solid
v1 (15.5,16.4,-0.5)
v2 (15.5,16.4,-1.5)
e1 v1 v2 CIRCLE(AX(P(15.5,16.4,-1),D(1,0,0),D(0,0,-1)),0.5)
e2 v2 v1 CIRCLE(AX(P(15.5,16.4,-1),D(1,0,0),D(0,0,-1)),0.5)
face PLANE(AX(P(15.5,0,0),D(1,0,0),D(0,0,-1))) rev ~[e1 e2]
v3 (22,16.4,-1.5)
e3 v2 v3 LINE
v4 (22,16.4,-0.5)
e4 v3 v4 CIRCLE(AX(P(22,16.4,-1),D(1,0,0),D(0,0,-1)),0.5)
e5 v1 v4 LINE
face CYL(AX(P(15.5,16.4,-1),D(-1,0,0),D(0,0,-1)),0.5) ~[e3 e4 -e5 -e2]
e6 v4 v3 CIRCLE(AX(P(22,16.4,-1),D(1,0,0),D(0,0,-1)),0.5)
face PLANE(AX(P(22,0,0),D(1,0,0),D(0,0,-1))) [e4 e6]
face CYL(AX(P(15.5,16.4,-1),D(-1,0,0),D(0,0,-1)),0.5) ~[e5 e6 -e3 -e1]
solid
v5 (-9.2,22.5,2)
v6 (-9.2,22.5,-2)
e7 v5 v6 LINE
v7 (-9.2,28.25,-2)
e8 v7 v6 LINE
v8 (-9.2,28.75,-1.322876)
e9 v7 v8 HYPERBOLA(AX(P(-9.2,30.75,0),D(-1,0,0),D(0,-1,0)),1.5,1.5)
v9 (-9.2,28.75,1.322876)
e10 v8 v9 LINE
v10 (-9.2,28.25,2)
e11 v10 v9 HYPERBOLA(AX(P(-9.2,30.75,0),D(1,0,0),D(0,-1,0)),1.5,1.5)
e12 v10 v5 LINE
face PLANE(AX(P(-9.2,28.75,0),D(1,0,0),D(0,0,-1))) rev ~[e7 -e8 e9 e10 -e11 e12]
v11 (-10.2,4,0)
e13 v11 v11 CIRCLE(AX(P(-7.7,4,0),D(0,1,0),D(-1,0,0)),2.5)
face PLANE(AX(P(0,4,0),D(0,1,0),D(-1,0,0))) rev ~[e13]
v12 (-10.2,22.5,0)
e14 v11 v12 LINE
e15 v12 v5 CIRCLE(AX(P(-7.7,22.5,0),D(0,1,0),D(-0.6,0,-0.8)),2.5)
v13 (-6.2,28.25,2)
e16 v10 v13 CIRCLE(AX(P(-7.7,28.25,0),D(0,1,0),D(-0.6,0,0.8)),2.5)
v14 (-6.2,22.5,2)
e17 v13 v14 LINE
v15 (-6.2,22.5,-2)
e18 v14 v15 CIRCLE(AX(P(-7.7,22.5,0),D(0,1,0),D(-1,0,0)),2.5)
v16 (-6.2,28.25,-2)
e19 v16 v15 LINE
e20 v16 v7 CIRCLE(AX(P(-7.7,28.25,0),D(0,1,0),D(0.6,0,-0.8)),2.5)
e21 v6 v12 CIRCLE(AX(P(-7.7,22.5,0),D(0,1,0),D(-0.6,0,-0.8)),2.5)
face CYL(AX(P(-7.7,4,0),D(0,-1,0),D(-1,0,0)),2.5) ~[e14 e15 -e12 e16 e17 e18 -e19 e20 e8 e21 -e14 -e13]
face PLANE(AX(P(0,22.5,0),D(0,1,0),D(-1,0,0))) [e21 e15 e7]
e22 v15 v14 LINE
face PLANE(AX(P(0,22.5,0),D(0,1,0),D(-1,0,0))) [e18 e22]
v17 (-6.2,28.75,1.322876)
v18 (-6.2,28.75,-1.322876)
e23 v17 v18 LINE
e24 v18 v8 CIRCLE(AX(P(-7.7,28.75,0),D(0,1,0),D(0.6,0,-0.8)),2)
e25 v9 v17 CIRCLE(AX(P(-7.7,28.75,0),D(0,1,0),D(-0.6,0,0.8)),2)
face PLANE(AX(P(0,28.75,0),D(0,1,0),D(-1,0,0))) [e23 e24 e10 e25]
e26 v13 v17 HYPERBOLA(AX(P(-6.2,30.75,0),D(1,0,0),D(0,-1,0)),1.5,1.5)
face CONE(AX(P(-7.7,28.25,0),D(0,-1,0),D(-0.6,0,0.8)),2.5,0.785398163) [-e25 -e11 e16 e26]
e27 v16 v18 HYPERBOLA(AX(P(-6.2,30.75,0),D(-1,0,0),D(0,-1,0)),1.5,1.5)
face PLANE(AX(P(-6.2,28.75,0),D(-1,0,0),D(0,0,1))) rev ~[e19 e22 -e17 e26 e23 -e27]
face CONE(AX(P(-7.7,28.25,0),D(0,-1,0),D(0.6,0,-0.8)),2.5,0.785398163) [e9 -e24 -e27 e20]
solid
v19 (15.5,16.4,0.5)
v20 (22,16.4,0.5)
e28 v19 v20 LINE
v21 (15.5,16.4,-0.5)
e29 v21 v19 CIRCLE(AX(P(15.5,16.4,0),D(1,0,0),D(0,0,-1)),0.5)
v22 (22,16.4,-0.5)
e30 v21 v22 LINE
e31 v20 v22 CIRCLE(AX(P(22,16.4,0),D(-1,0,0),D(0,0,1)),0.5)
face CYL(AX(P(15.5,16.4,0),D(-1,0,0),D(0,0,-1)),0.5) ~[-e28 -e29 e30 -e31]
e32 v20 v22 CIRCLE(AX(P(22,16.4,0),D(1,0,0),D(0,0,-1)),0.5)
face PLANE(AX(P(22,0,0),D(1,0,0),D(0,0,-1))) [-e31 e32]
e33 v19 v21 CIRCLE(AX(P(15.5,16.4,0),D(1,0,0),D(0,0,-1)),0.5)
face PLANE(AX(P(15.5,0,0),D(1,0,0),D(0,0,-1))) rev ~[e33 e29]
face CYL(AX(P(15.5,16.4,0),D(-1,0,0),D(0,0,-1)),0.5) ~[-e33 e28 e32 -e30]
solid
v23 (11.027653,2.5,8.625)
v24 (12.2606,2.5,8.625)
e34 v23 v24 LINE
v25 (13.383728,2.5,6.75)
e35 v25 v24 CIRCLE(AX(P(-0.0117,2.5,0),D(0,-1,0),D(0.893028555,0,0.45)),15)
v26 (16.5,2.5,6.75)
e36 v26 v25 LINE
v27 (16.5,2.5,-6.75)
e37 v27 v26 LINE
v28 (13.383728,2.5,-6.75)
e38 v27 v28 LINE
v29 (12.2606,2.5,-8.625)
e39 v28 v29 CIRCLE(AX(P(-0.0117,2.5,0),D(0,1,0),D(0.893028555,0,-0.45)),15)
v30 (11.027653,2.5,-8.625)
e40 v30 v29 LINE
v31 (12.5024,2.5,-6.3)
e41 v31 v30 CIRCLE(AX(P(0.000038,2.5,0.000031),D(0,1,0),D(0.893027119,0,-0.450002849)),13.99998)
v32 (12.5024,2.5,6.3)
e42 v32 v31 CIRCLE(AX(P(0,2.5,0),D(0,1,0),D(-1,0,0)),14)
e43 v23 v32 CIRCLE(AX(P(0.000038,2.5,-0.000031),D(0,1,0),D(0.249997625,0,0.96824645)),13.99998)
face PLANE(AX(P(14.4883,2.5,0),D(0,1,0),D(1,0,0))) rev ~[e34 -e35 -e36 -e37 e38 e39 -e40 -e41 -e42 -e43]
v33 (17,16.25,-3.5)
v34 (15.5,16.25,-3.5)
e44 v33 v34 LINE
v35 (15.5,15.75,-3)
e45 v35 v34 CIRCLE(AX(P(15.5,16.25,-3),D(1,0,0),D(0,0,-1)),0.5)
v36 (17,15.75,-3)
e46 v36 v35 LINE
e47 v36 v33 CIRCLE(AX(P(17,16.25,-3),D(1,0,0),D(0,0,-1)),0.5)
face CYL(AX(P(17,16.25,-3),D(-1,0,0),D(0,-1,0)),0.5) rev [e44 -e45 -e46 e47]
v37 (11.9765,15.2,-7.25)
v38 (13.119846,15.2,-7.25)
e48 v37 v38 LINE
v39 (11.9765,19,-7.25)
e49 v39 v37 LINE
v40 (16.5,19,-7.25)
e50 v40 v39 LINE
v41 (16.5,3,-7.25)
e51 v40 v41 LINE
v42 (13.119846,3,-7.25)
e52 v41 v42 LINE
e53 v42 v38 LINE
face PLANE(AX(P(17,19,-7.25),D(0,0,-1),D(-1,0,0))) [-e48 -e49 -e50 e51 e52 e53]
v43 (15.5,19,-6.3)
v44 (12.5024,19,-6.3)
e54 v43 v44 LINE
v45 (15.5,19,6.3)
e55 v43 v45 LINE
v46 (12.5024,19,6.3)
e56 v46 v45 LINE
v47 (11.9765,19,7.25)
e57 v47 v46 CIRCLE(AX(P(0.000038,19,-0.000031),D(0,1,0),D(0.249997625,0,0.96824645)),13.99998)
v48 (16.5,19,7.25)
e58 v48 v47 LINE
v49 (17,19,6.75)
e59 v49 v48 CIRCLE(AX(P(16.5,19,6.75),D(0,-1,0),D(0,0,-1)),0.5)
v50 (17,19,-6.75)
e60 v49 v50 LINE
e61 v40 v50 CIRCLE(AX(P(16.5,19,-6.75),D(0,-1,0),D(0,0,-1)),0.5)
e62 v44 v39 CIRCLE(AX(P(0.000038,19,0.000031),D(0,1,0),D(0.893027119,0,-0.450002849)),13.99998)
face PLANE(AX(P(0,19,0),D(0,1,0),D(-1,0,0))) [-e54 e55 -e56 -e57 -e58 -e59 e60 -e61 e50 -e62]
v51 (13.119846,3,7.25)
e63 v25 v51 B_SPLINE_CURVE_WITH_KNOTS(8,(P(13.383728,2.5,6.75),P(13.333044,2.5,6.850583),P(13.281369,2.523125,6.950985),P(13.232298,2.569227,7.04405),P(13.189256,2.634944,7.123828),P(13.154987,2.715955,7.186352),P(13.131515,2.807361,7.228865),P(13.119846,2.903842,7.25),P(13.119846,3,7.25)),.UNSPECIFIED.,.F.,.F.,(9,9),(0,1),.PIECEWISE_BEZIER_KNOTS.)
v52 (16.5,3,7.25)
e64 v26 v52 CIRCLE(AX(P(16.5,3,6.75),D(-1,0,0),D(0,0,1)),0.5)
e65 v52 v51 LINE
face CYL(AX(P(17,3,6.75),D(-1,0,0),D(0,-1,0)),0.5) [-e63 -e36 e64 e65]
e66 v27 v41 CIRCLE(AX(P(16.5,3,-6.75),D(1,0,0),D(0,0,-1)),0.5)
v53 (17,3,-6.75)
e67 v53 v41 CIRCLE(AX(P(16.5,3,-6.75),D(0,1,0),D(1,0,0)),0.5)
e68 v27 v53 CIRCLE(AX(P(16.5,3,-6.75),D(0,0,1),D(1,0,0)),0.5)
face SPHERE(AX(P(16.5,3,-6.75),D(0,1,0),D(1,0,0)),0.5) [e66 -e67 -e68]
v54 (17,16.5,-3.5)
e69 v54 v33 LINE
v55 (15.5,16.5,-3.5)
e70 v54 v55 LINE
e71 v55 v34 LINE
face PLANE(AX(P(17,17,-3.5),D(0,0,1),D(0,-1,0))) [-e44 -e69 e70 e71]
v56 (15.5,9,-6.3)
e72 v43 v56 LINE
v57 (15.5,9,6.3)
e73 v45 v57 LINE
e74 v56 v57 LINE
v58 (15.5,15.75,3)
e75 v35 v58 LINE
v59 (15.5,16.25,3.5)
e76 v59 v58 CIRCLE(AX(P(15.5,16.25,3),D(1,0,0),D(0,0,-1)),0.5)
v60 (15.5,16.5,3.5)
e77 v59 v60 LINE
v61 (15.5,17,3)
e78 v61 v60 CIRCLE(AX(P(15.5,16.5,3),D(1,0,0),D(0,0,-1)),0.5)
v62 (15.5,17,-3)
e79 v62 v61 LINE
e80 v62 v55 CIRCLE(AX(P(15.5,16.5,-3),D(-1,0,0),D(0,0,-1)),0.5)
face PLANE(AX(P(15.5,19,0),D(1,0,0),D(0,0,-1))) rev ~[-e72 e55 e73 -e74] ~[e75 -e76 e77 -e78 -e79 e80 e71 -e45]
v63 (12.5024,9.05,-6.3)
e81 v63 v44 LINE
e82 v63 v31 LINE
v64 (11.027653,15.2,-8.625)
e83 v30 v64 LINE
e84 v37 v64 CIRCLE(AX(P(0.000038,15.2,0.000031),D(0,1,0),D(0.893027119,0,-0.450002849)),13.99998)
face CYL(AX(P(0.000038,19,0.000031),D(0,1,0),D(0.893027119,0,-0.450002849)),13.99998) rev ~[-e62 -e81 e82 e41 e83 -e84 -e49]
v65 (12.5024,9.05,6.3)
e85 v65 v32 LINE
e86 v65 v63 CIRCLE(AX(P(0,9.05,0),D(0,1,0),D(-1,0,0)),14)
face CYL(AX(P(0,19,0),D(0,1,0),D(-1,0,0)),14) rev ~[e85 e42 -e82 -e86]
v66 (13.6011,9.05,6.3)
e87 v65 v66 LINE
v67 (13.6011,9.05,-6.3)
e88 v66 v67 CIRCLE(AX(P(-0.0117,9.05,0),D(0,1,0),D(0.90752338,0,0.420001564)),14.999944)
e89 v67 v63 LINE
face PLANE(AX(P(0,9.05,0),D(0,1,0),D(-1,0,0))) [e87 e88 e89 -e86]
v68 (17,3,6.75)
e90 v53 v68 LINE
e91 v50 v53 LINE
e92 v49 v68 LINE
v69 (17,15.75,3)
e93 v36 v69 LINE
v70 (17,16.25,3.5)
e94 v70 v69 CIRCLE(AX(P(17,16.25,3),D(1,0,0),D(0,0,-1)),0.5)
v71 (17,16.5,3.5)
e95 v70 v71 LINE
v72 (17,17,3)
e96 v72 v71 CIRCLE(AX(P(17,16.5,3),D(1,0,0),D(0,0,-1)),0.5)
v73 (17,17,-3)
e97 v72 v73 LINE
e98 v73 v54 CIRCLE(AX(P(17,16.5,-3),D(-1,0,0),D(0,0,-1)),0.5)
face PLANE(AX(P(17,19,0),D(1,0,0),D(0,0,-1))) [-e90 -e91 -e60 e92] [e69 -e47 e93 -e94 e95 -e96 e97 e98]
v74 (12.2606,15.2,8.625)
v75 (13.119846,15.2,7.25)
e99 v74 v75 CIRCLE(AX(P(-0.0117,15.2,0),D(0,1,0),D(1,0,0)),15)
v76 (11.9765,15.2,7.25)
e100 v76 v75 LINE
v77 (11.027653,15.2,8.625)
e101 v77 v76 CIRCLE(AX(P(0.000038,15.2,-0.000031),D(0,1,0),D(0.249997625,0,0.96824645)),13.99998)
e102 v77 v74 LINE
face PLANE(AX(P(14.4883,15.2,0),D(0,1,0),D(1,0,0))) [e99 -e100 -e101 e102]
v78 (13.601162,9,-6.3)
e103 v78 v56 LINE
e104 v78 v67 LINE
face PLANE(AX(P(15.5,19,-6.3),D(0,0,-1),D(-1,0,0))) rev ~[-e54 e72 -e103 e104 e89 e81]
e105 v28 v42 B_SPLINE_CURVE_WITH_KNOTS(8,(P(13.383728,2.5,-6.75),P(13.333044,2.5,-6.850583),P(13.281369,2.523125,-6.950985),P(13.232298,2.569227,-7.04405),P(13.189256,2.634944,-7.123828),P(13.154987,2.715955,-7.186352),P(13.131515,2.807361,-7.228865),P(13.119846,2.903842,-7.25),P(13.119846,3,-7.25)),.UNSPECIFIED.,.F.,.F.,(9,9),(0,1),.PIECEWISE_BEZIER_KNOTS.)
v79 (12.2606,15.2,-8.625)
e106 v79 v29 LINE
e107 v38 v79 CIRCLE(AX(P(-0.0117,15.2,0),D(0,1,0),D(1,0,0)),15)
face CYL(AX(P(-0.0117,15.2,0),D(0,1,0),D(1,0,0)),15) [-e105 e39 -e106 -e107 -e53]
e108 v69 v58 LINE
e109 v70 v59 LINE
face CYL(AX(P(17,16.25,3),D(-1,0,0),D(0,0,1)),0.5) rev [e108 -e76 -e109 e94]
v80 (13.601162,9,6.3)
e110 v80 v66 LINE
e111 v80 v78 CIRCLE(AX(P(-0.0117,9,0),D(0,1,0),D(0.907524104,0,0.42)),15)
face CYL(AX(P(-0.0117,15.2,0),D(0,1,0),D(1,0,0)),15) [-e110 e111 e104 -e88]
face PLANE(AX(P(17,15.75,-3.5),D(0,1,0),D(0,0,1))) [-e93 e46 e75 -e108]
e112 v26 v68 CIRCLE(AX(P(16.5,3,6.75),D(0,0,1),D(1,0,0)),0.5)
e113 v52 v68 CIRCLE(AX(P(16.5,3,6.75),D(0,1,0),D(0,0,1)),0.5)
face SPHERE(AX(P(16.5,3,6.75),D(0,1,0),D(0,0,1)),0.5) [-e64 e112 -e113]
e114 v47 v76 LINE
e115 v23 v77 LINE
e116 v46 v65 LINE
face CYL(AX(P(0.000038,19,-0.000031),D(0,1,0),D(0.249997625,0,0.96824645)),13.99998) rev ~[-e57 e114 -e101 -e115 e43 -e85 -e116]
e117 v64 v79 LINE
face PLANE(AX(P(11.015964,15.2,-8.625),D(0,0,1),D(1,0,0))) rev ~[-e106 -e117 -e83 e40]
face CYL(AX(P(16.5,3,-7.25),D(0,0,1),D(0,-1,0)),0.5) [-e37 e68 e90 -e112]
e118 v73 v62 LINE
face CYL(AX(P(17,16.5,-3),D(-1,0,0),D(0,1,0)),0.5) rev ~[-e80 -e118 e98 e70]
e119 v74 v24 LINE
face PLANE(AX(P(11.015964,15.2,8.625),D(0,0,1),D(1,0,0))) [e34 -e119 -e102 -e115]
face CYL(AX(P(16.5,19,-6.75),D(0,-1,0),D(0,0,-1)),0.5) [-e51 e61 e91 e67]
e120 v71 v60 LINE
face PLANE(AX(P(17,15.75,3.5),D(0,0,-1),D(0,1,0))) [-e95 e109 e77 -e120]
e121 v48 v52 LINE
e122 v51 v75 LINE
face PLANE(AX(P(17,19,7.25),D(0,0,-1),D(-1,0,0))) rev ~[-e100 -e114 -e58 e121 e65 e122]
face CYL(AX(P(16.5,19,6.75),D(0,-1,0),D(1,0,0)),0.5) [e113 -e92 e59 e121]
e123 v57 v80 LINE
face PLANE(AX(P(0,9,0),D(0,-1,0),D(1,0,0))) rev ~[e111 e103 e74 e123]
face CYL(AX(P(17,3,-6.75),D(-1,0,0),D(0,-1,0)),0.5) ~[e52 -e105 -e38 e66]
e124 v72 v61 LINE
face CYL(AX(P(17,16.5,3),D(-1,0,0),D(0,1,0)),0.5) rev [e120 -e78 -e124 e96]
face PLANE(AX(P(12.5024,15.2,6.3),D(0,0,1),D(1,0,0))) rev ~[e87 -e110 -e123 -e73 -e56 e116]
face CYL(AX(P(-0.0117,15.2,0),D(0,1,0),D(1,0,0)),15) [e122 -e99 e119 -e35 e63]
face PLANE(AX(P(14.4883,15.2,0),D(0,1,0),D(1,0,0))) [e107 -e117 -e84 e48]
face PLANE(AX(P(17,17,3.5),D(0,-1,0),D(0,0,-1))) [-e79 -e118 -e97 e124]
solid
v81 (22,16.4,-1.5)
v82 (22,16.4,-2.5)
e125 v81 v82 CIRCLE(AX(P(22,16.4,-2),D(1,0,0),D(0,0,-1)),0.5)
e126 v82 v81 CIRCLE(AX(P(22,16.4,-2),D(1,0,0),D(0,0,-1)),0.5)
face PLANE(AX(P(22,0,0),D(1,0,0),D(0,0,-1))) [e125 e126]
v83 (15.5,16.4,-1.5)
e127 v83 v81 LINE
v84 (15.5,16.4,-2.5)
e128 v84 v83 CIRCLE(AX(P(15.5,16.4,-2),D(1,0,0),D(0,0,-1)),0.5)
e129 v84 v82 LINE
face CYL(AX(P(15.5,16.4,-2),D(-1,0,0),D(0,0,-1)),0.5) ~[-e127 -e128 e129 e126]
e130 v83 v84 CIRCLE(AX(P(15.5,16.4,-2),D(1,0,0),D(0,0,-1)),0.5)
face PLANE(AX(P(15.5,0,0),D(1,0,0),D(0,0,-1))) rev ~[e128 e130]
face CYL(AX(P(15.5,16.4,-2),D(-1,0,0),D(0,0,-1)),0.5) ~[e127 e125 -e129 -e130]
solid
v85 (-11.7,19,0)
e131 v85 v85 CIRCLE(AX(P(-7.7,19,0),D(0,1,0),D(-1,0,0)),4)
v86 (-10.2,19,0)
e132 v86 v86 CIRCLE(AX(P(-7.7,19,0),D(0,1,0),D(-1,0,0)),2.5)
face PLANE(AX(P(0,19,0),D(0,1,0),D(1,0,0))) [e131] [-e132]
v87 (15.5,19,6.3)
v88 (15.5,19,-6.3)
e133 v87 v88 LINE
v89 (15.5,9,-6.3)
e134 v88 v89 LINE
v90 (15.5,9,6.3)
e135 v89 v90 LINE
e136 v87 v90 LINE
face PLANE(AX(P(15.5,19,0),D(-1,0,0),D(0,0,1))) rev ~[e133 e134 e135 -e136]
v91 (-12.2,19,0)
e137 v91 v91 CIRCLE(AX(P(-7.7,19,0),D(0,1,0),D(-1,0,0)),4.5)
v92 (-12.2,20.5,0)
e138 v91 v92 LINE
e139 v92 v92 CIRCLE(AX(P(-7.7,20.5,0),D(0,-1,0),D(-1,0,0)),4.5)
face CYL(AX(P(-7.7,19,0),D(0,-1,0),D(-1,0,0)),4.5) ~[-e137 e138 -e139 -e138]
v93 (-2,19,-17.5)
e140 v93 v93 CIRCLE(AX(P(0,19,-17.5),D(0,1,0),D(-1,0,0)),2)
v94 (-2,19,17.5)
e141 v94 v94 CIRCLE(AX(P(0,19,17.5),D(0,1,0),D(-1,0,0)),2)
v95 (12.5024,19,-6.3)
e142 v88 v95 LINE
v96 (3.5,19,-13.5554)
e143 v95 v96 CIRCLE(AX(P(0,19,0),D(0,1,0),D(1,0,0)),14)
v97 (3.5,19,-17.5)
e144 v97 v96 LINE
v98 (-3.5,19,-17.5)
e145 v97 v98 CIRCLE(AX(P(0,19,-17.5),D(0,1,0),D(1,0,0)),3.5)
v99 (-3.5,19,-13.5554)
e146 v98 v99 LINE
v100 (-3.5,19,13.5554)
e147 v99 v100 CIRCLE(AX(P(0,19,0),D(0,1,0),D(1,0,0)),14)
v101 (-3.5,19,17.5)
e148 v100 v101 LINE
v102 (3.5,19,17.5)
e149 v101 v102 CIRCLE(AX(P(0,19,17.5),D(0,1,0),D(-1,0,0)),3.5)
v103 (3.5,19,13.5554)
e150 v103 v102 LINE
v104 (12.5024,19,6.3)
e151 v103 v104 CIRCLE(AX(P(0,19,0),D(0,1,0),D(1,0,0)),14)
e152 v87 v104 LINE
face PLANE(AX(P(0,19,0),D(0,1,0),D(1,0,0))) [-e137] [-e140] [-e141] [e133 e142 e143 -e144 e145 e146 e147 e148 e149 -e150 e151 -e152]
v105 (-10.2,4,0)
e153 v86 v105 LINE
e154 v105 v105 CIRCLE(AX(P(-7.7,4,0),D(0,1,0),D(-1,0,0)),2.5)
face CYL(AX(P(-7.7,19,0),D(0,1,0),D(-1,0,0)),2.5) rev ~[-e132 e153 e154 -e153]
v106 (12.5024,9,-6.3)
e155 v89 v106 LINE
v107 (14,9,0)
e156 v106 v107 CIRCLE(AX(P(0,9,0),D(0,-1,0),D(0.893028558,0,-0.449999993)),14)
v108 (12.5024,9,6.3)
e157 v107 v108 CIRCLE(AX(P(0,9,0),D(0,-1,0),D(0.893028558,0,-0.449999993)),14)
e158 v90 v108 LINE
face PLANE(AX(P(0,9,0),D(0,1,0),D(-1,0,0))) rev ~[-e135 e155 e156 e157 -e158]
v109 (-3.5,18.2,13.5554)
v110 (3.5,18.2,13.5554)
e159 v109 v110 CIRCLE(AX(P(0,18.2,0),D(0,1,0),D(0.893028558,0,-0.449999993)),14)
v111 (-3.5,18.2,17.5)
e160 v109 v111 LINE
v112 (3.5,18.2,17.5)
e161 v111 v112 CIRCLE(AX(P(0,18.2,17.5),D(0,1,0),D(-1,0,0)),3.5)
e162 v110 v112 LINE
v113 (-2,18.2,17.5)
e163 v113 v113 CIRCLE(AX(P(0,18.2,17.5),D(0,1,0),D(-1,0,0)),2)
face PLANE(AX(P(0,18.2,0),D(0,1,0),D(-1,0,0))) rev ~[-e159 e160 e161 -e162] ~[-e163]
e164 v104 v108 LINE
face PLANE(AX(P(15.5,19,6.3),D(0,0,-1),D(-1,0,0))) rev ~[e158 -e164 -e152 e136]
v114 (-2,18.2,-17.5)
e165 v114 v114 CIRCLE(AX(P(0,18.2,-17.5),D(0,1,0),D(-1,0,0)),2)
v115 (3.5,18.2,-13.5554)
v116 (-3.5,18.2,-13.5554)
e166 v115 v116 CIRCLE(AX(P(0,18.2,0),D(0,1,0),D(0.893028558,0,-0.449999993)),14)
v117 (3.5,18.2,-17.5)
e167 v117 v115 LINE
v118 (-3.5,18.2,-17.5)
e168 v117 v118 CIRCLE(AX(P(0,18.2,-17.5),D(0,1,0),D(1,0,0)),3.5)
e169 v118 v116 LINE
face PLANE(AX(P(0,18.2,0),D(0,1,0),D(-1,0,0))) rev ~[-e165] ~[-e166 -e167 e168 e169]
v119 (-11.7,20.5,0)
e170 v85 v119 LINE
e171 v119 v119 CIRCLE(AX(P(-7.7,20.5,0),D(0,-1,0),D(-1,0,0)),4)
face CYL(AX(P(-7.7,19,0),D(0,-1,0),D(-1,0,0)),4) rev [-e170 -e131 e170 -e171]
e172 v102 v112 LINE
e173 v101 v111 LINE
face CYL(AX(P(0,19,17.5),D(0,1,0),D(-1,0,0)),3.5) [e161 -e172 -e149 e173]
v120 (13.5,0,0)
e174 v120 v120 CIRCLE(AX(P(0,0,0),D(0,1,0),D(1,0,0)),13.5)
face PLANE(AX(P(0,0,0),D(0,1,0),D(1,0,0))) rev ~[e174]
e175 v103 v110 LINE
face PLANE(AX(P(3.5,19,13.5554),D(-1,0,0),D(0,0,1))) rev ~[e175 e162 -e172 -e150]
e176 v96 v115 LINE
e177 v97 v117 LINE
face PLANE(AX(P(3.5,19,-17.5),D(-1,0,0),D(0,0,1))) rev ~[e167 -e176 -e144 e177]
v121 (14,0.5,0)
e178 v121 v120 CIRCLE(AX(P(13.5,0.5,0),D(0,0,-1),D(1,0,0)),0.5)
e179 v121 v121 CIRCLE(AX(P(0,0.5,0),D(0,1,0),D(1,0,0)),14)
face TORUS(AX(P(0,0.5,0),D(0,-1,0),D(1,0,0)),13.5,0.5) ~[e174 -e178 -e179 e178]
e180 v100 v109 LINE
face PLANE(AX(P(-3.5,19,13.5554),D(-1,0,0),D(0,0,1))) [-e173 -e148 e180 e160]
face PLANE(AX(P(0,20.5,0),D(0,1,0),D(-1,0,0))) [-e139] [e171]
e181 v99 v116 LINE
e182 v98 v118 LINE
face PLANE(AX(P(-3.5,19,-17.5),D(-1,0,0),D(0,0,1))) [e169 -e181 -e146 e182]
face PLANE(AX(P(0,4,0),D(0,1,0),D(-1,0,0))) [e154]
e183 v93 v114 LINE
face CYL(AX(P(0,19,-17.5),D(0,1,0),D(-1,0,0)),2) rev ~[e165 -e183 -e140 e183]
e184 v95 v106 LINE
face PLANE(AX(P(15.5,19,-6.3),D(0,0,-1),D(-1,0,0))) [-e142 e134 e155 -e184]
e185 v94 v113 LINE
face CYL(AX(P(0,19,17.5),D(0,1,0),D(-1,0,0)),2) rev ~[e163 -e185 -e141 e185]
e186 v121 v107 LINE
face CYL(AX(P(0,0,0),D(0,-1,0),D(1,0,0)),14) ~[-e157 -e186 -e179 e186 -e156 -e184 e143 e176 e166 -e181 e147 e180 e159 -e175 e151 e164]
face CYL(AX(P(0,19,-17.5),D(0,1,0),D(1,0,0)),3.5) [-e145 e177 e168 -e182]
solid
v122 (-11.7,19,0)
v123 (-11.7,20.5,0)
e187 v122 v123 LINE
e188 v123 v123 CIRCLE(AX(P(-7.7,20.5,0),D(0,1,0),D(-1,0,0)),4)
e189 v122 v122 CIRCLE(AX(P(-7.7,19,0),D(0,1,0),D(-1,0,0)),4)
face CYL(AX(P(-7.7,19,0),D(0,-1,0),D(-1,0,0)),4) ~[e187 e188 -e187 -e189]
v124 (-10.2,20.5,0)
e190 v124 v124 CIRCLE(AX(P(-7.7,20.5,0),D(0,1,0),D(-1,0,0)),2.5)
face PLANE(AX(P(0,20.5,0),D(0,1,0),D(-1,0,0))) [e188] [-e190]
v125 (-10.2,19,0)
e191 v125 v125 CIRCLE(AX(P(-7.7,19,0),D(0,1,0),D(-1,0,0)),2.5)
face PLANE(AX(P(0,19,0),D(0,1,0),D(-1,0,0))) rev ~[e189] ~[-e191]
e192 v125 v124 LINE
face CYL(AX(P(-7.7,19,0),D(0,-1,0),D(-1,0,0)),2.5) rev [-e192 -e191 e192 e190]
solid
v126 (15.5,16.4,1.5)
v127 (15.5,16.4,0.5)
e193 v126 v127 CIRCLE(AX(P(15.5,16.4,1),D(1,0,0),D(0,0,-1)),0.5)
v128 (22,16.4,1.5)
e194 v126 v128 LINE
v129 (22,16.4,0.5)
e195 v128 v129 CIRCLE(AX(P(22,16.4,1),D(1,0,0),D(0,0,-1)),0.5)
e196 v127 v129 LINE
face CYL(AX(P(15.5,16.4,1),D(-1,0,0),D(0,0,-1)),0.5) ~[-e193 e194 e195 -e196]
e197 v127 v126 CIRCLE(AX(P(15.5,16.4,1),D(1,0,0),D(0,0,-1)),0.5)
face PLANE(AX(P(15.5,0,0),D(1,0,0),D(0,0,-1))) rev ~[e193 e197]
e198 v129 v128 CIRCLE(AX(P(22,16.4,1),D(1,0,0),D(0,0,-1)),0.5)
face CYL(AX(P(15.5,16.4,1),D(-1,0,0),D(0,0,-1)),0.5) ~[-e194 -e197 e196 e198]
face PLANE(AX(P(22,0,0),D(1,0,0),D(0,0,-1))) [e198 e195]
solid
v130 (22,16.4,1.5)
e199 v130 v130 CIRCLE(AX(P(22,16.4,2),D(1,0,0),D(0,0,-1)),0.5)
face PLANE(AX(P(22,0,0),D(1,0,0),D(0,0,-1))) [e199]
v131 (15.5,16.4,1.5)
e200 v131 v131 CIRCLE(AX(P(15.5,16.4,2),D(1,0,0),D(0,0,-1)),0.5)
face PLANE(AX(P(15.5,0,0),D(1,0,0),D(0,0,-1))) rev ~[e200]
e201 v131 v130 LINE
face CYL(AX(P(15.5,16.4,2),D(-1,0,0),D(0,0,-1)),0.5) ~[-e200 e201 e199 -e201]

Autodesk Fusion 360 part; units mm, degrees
sketch "Sketch1" plane through (0, 0, 0) normal (0, 1, 0) x (1, 0, 0)
  circle A0 centre (0, 0) radius 14
  dimension "d1" = 28
extrude "Extrude1" add sketch "Sketch1" along normal blind 19 makes body 1
sketch "Sketch2" plane through (0, 19, 0) normal (0, 1, 0) x (-1, 0, 0)
  circle A0 centre (0, 0) radius 14
  line L0 (14, 0) -> (-15.5, 0)
  line L1 (-15.5, 0) -> (-15.5, -6.3)
  line L2 (-15.5, -6.3) -> (-12.5024, -6.3)
  line L3 (-15.5, 0) -> (-15.5, 6.3)
  line L4 (-15.5, 6.3) -> (-12.5024, 6.3)
  dimension "d4" = 29.5
  dimension "d5" = 6.3
  dimension "d6" = 6.3
extrude "Extrude2" add sketch "Sketch2" against normal blind 10 contours A0 L0 L3 L4 | A0 L0 L1 L2 bodies 1
sketch "Sketch3" plane through (0, 19, 0) normal (0, 1, 0) x (-1, 0, 0)
  arc A0 (-12.5024, -6.3) -> (-12.5024, 6.3) centre (0, 0) ccw
  line L0 (-12.5024, 6.3) -> (-15.5, 6.3)
  line L1 (-15.5, 6.3) -> (-15.5, -6.3)
  line L2 (-15.5, -6.3) -> (-12.5024, -6.3)
  line L3 (14, 0) -> (3.2, 0)
  circle A1 centre (7.7, 0) radius 4.5
  circle A2 centre (7.7, 0) radius 4
  dimension "d9" = 10.8
  dimension "d11" = 9
  dimension "d12" = 8
extrude "Extrude3" add sketch "Sketch3" along normal blind 1.5 contours L3 A1 A2 | L3 A1 A2 bodies 1
sketch "Sketch4" plane through (0, 19, 0) normal (0, 1, 0) x (-1, 0, 0)
  circle A0 centre (7.7, 0) radius 4
  circle A1 centre (7.7, 0) radius 4
  circle A2 centre (7.7, 0) radius 2.5
  dimension "d15" = 5
extrude "Extrude4" add sketch "Sketch4" along normal blind 1.5 separate body makes body 2
sketch "Sketch5" plane through (0, 19, 0) normal (0, 1, 0) x (-1, 0, 0)
  circle A0 centre (7.7, 0) radius 4
  circle A1 centre (7.7, 0) radius 2.5
  dimension "d18" = 5
extrude "Extrude5" cut sketch "Sketch5" against normal blind 15 contours A1 bodies 1
extrude "Extrude6" add 1 faces at (-8.3885, 4, -0.2537) along direction (0, 1, 0) blind 24.75 separate body on bodies 1 makes body 3
sketch "Sketch6" plane through (0, 28.75, 0) normal (0, 1, 0) x (-1, 0, 0)
  circle A0 centre (7.7, 0) radius 2.5
  circle A1 centre (7.7, 0) radius 1.5
  line L0 (9.2, 0) -> (9.2, -2)
  line L1 (6.2, 0) -> (6.2, -2)
  line L2 (9.2, 0) -> (9.2, 2)
  line L3 (6.2, 0) -> (6.2, 2)
  dimension "d23" = 3
extrude "Extrude7" cut sketch "Sketch6" against normal blind 6.25 contours A0 L0 L2 | A0 L1 L3 bodies 3
chamfer "Chamfer1" distance 0.5 angle 45 2 edges at (-7.7, 28.75, 2.5) (-7.7, 28.75, -2.5) on bodies 3
sketch "Sketch7" plane through (0, 19, 0) normal (0, 1, 0) x (-1, 0, 0)
  arc A0 (-12.5024, -6.3) -> (-12.5024, 6.3) centre (0, 0) ccw
  line L0 (-12.5024, 6.3) -> (-15.5, 6.3)
  line L1 (-15.5, 6.3) -> (-15.5, -6.3)
  line L2 (-15.5, -6.3) -> (-12.5024, -6.3)
  circle A1 centre (7.7, 0) radius 4.5
  circle A2 centre (0, -17.5) radius 2
  circle A3 centre (0, 17.5) radius 2
  arc A4 (-3.5, -17.5) -> (3.5, -17.5) centre (0, -17.5) ccw
  arc A5 (3.5, 17.5) -> (-3.5, 17.5) centre (0, 17.5) ccw
  line L3 (3.5, -17.5) -> (3.5, -13.5554)
  line L4 (-3.5, -17.5) -> (-3.5, -13.5554)
  line L5 (-3.5, 13.5554) -> (-3.5, 17.5)
  arc A6 (3.5, 13.5554) -> (-3.5, 13.5554) centre (0, 0) ccw
  arc A7 (-3.5, -13.5554) -> (3.5, -13.5554) centre (0, 0) ccw
  line L6 (3.5, 13.5554) -> (3.5, 17.5)
  dimension "d27" = 17.5
  dimension "d28" = 17.5
  dimension "d29" = 4
  dimension "d30" = 4
  dimension "d31" = 7
  dimension "d32" = 7
extrude "Extrude8" add sketch "Sketch7" against normal blind 0.8 contours A0 A4 L3 L4 A7 | A0 A5 L5 A6 L6 bodies 1
fillet "Fillet1" radius 0.5 1 edges at (-13.0526, 0, 5.0626) on bodies 1
sketch "Sketch8" plane through (0, 19, 0) normal (0, 1, 0) x (-1, 0, 0)
  circle A0 centre (0, -17.5) radius 2
  circle A1 centre (0, 17.5) radius 2
  arc A2 (-12.5024, -6.3) -> (-3.5, -13.5554) centre (0, 0) ccw
  line L0 (-3.5, -13.5554) -> (-3.5, -17.5)
  arc A3 (-3.5, -17.5) -> (3.5, -17.5) centre (0, -17.5) ccw
  line L1 (3.5, -17.5) -> (3.5, -13.5554)
  arc A4 (3.5, -13.5554) -> (3.5, 13.5554) centre (0, 0) ccw
  line L2 (3.5, 13.5554) -> (3.5, 17.5)
  arc A5 (3.5, 17.5) -> (-3.5, 17.5) centre (0, 17.5) ccw
  line L3 (-3.5, 17.5) -> (-3.5, 13.5554)
  arc A6 (-3.5, 13.5554) -> (-12.5024, 6.3) centre (0, 0) ccw
  line L4 (-12.5024, 6.3) -> (-15.5, 6.3)
  line L5 (-15.5, 6.3) -> (-15.5, -6.3)
  line L6 (-15.5, -6.3) -> (-12.5024, -6.3)
  circle A7 centre (7.7, 0) radius 4.5
  line L7 (14, 0) -> (-17, 0)
  line L8 (-17, 0) -> (-17, -7.25)
  line L9 (-17, -7.25) -> (-11.9765, -7.25)
  line L10 (-17, 0) -> (-17, 7.25)
  line L11 (-17, 7.25) -> (-11.9765, 7.25)
  dimension "d37" = 7.25
  dimension "d38" = 7.25
extrude "Extrude9" add sketch "Sketch8" against normal blind 16.5 separate body contours A2 L5 L6 L7 L8 L9 | A6 L4 L5 L7 L10 L11 makes body 4
sketch "Sketch9" plane through (0, 9, 0) normal (0, -1, 0) x (1, 0, 0)
  line L0 (15.5, -6.3) -> (15.5, 6.3)
  line L1 (15.5, 6.3) -> (12.5024, 6.3)
  arc A0 (12.5024, -6.3) -> (12.5024, 6.3) centre (0, 0) ccw
  line L2 (12.5024, -6.3) -> (15.5, -6.3)
extrude "Extrude10" add sketch "Sketch9" along normal blind 6.5 bodies 4
ref_plane "WorkPlane1" through (14.4883, 15.2, 0) normal (0, 1, 0) x (-1, 0, 0)
sketch "Sketch10" plane through (14.4883, 15.2, 0) normal (0, 1, 0) x (1, 0, 0)
  line L0 (-14.5, 17.5) -> (-14.5, -17.5)
  circle A0 centre (-14.5, 0) radius 15
  line L1 (-14.5, 0) -> (-14.5, 8.625)
  line L2 (-14.5, 8.625) -> (-2.2277, 8.625)
  line L3 (-14.5, 0) -> (-14.5, -8.625)
  line L4 (-14.5, -8.625) -> (-2.2277, -8.625)
  circle A1 centre (-14.5, 0) radius 14
  dimension "d44" = 30
  dimension "d45" = 8.625
  dimension "d46" = 8.625
  dimension "d47" = 28
extrude "Extrude11" add sketch "Sketch10" against normal blind 12.7 contours A0 L2 L4 A1 bodies 4
sketch "Sketch11" plane through (0, 15.2, 0) normal (0, 1, 0) x (-1, 0, 0)
  line L0 (-13.6011, -6.3) -> (-12.5024, -6.3)
  arc A0 (-12.5024, -6.3) -> (-11.9765, -7.25) centre (0, 0) ccw
  line L1 (-11.9765, -7.25) -> (-13.1198, -7.25)
  arc A1 (-13.1198, -7.25) -> (-12.2606, -8.625) centre (0.0117, 0) ccw
  line L2 (-12.2606, -8.625) -> (-11.0159, -8.625)
  arc A2 (-11.0159, 8.625) -> (-11.0159, -8.625) centre (0.0117, 0) ccw
  line L3 (-11.0159, 8.625) -> (-12.2606, 8.625)
  arc A3 (-12.2606, 8.625) -> (-13.1198, 7.25) centre (0.0117, 0) ccw
  line L4 (-13.1198, 7.25) -> (-11.9765, 7.25)
  arc A4 (-11.9765, 7.25) -> (-12.5024, 6.3) centre (0, 0) ccw
  line L5 (-12.5024, 6.3) -> (-13.6011, 6.3)
  arc A5 (-13.6011, 6.3) -> (-13.6011, -6.3) centre (0.0117, 0) ccw
  line L6 (-13.6011, 6.3) -> (-12.5024, 6.3)
  line L7 (-13.6011, -6.3) -> (-12.5024, -6.3)
  line L8 (-12.5024, 6.3) -> (-11.9315, 6.3)
  line L9 (-11.9315, 6.3) -> (-11.9315, -6.3)
  line L10 (-11.9315, -6.3) -> (-12.5024, -6.3)
sketch "Sketch12" plane through (0, 19, 0) normal (0, 1, 0) x (-1, 0, 0)
  circle A0 centre (0, -17.5) radius 2
  circle A1 centre (0, 17.5) radius 2
  arc A2 (-12.5024, -6.3) -> (-3.5, -13.5554) centre (0, 0) ccw
  line L0 (-3.5, -13.5554) -> (-3.5, -17.5)
  arc A3 (-3.5, -17.5) -> (3.5, -17.5) centre (0, -17.5) ccw
  line L1 (3.5, -17.5) -> (3.5, -13.5554)
  arc A4 (3.5, -13.5554) -> (3.5, 13.5554) centre (0, 0) ccw
  line L2 (3.5, 13.5554) -> (3.5, 17.5)
  arc A5 (3.5, 17.5) -> (-3.5, 17.5) centre (0, 17.5) ccw
  line L3 (-3.5, 17.5) -> (-3.5, 13.5554)
  arc A6 (-3.5, 13.5554) -> (-12.5024, 6.3) centre (0, 0) ccw
  line L4 (-12.5024, 6.3) -> (-15.5, 6.3)
  line L5 (-15.5, 6.3) -> (-15.5, -6.3)
  line L6 (-15.5, -6.3) -> (-12.5024, -6.3)
  circle A7 centre (7.7, 0) radius 4.5
  circle A8 centre (0, 0) radius 14
extrude "Extrude12" cut sketch "Sketch12" against normal blind 27 contours A2 A4 A6 A8 bodies 4
extrude "Extrude13" cut sketch "Sketch11" against normal blind 6.15 contours L0 A2 L5 A5 L6 L7 L8 L10 | A2 L8 L9 L10 bodies 4
fillet "Fillet2" radius 0.5 5 edges at (17, 10.75, 7.25) (17, 10.75, -7.25) (15.0599, 2.5, 7.25) (17, 2.5, 0) (15.0599, 2.5, -7.25) on bodies 4
sketch "Sketch13" plane through (17, 0, 0) normal (1, 0, 0) x (0, 0, -1)
  line L0 (-6.75, 19) -> (-6.75, 3)
  line L1 (-6.75, 3) -> (6.75, 3)
  line L2 (6.75, 3) -> (6.75, 19)
  line L3 (6.75, 19) -> (-6.75, 19)
  line L4 (0, 19) -> (0, 17)
  line L5 (0, 17) -> (3.5, 17)
  line L6 (3.5, 17) -> (3.5, 15.75)
  line L7 (3.5, 15.75) -> (-3.5, 15.75)
  line L8 (-3.5, 15.75) -> (-3.5, 17)
  line L9 (-3.5, 17) -> (0, 17)
  dimension "d56" = 2
  dimension "d57" = 3.5
  dimension "d58" = 1.25
  dimension "d59" = 7
extrude "Extrude14" cut sketch "Sketch13" against normal blind 5 contours L5 L6 L7 L8 L9 bodies 4
fillet "Fillet3" radius 0.5 4 edges at (16.25, 15.75, -3.5) (16.25, 17, -3.5) (16.25, 17, 3.5) (16.25, 15.75, 3.5) on bodies 4
sketch "Sketch14" plane through (15.5, 0, 0) normal (1, 0, 0) x (0, 0, -1)
  line L0 (6.3, 19) -> (-6.3, 19)
  line L1 (-6.3, 19) -> (-6.3, 9)
  line L2 (-6.3, 9) -> (6.3, 9)
  line L3 (6.3, 9) -> (6.3, 19)
  line L4 (0, 17) -> (0, 16.4)
  circle A0 centre (0, 16.4) radius 0.5
  circle A1 centre (1, 16.4) radius 0.5
  circle A2 centre (2, 16.4) radius 0.5
  circle A3 centre (-1, 16.4) radius 0.5
  circle A4 centre (-2, 16.4) radius 0.5
  dimension "d64" = 0.6
  dimension "d65" = 1
  dimension "d66" = 1
  dimension "d67" = 1
  dimension "d68" = 1
  dimension "d69" = 1
extrude "Extrude15" add sketch "Sketch14" along normal blind 6.5 separate body contours A0 | A2 | A1 | A3 | A4 makes body 5
equation "d27 = ( 35 / 2 ) * 1 mm"
equation "d45 = ( 17.25 / 2 ) * 1 mm"
